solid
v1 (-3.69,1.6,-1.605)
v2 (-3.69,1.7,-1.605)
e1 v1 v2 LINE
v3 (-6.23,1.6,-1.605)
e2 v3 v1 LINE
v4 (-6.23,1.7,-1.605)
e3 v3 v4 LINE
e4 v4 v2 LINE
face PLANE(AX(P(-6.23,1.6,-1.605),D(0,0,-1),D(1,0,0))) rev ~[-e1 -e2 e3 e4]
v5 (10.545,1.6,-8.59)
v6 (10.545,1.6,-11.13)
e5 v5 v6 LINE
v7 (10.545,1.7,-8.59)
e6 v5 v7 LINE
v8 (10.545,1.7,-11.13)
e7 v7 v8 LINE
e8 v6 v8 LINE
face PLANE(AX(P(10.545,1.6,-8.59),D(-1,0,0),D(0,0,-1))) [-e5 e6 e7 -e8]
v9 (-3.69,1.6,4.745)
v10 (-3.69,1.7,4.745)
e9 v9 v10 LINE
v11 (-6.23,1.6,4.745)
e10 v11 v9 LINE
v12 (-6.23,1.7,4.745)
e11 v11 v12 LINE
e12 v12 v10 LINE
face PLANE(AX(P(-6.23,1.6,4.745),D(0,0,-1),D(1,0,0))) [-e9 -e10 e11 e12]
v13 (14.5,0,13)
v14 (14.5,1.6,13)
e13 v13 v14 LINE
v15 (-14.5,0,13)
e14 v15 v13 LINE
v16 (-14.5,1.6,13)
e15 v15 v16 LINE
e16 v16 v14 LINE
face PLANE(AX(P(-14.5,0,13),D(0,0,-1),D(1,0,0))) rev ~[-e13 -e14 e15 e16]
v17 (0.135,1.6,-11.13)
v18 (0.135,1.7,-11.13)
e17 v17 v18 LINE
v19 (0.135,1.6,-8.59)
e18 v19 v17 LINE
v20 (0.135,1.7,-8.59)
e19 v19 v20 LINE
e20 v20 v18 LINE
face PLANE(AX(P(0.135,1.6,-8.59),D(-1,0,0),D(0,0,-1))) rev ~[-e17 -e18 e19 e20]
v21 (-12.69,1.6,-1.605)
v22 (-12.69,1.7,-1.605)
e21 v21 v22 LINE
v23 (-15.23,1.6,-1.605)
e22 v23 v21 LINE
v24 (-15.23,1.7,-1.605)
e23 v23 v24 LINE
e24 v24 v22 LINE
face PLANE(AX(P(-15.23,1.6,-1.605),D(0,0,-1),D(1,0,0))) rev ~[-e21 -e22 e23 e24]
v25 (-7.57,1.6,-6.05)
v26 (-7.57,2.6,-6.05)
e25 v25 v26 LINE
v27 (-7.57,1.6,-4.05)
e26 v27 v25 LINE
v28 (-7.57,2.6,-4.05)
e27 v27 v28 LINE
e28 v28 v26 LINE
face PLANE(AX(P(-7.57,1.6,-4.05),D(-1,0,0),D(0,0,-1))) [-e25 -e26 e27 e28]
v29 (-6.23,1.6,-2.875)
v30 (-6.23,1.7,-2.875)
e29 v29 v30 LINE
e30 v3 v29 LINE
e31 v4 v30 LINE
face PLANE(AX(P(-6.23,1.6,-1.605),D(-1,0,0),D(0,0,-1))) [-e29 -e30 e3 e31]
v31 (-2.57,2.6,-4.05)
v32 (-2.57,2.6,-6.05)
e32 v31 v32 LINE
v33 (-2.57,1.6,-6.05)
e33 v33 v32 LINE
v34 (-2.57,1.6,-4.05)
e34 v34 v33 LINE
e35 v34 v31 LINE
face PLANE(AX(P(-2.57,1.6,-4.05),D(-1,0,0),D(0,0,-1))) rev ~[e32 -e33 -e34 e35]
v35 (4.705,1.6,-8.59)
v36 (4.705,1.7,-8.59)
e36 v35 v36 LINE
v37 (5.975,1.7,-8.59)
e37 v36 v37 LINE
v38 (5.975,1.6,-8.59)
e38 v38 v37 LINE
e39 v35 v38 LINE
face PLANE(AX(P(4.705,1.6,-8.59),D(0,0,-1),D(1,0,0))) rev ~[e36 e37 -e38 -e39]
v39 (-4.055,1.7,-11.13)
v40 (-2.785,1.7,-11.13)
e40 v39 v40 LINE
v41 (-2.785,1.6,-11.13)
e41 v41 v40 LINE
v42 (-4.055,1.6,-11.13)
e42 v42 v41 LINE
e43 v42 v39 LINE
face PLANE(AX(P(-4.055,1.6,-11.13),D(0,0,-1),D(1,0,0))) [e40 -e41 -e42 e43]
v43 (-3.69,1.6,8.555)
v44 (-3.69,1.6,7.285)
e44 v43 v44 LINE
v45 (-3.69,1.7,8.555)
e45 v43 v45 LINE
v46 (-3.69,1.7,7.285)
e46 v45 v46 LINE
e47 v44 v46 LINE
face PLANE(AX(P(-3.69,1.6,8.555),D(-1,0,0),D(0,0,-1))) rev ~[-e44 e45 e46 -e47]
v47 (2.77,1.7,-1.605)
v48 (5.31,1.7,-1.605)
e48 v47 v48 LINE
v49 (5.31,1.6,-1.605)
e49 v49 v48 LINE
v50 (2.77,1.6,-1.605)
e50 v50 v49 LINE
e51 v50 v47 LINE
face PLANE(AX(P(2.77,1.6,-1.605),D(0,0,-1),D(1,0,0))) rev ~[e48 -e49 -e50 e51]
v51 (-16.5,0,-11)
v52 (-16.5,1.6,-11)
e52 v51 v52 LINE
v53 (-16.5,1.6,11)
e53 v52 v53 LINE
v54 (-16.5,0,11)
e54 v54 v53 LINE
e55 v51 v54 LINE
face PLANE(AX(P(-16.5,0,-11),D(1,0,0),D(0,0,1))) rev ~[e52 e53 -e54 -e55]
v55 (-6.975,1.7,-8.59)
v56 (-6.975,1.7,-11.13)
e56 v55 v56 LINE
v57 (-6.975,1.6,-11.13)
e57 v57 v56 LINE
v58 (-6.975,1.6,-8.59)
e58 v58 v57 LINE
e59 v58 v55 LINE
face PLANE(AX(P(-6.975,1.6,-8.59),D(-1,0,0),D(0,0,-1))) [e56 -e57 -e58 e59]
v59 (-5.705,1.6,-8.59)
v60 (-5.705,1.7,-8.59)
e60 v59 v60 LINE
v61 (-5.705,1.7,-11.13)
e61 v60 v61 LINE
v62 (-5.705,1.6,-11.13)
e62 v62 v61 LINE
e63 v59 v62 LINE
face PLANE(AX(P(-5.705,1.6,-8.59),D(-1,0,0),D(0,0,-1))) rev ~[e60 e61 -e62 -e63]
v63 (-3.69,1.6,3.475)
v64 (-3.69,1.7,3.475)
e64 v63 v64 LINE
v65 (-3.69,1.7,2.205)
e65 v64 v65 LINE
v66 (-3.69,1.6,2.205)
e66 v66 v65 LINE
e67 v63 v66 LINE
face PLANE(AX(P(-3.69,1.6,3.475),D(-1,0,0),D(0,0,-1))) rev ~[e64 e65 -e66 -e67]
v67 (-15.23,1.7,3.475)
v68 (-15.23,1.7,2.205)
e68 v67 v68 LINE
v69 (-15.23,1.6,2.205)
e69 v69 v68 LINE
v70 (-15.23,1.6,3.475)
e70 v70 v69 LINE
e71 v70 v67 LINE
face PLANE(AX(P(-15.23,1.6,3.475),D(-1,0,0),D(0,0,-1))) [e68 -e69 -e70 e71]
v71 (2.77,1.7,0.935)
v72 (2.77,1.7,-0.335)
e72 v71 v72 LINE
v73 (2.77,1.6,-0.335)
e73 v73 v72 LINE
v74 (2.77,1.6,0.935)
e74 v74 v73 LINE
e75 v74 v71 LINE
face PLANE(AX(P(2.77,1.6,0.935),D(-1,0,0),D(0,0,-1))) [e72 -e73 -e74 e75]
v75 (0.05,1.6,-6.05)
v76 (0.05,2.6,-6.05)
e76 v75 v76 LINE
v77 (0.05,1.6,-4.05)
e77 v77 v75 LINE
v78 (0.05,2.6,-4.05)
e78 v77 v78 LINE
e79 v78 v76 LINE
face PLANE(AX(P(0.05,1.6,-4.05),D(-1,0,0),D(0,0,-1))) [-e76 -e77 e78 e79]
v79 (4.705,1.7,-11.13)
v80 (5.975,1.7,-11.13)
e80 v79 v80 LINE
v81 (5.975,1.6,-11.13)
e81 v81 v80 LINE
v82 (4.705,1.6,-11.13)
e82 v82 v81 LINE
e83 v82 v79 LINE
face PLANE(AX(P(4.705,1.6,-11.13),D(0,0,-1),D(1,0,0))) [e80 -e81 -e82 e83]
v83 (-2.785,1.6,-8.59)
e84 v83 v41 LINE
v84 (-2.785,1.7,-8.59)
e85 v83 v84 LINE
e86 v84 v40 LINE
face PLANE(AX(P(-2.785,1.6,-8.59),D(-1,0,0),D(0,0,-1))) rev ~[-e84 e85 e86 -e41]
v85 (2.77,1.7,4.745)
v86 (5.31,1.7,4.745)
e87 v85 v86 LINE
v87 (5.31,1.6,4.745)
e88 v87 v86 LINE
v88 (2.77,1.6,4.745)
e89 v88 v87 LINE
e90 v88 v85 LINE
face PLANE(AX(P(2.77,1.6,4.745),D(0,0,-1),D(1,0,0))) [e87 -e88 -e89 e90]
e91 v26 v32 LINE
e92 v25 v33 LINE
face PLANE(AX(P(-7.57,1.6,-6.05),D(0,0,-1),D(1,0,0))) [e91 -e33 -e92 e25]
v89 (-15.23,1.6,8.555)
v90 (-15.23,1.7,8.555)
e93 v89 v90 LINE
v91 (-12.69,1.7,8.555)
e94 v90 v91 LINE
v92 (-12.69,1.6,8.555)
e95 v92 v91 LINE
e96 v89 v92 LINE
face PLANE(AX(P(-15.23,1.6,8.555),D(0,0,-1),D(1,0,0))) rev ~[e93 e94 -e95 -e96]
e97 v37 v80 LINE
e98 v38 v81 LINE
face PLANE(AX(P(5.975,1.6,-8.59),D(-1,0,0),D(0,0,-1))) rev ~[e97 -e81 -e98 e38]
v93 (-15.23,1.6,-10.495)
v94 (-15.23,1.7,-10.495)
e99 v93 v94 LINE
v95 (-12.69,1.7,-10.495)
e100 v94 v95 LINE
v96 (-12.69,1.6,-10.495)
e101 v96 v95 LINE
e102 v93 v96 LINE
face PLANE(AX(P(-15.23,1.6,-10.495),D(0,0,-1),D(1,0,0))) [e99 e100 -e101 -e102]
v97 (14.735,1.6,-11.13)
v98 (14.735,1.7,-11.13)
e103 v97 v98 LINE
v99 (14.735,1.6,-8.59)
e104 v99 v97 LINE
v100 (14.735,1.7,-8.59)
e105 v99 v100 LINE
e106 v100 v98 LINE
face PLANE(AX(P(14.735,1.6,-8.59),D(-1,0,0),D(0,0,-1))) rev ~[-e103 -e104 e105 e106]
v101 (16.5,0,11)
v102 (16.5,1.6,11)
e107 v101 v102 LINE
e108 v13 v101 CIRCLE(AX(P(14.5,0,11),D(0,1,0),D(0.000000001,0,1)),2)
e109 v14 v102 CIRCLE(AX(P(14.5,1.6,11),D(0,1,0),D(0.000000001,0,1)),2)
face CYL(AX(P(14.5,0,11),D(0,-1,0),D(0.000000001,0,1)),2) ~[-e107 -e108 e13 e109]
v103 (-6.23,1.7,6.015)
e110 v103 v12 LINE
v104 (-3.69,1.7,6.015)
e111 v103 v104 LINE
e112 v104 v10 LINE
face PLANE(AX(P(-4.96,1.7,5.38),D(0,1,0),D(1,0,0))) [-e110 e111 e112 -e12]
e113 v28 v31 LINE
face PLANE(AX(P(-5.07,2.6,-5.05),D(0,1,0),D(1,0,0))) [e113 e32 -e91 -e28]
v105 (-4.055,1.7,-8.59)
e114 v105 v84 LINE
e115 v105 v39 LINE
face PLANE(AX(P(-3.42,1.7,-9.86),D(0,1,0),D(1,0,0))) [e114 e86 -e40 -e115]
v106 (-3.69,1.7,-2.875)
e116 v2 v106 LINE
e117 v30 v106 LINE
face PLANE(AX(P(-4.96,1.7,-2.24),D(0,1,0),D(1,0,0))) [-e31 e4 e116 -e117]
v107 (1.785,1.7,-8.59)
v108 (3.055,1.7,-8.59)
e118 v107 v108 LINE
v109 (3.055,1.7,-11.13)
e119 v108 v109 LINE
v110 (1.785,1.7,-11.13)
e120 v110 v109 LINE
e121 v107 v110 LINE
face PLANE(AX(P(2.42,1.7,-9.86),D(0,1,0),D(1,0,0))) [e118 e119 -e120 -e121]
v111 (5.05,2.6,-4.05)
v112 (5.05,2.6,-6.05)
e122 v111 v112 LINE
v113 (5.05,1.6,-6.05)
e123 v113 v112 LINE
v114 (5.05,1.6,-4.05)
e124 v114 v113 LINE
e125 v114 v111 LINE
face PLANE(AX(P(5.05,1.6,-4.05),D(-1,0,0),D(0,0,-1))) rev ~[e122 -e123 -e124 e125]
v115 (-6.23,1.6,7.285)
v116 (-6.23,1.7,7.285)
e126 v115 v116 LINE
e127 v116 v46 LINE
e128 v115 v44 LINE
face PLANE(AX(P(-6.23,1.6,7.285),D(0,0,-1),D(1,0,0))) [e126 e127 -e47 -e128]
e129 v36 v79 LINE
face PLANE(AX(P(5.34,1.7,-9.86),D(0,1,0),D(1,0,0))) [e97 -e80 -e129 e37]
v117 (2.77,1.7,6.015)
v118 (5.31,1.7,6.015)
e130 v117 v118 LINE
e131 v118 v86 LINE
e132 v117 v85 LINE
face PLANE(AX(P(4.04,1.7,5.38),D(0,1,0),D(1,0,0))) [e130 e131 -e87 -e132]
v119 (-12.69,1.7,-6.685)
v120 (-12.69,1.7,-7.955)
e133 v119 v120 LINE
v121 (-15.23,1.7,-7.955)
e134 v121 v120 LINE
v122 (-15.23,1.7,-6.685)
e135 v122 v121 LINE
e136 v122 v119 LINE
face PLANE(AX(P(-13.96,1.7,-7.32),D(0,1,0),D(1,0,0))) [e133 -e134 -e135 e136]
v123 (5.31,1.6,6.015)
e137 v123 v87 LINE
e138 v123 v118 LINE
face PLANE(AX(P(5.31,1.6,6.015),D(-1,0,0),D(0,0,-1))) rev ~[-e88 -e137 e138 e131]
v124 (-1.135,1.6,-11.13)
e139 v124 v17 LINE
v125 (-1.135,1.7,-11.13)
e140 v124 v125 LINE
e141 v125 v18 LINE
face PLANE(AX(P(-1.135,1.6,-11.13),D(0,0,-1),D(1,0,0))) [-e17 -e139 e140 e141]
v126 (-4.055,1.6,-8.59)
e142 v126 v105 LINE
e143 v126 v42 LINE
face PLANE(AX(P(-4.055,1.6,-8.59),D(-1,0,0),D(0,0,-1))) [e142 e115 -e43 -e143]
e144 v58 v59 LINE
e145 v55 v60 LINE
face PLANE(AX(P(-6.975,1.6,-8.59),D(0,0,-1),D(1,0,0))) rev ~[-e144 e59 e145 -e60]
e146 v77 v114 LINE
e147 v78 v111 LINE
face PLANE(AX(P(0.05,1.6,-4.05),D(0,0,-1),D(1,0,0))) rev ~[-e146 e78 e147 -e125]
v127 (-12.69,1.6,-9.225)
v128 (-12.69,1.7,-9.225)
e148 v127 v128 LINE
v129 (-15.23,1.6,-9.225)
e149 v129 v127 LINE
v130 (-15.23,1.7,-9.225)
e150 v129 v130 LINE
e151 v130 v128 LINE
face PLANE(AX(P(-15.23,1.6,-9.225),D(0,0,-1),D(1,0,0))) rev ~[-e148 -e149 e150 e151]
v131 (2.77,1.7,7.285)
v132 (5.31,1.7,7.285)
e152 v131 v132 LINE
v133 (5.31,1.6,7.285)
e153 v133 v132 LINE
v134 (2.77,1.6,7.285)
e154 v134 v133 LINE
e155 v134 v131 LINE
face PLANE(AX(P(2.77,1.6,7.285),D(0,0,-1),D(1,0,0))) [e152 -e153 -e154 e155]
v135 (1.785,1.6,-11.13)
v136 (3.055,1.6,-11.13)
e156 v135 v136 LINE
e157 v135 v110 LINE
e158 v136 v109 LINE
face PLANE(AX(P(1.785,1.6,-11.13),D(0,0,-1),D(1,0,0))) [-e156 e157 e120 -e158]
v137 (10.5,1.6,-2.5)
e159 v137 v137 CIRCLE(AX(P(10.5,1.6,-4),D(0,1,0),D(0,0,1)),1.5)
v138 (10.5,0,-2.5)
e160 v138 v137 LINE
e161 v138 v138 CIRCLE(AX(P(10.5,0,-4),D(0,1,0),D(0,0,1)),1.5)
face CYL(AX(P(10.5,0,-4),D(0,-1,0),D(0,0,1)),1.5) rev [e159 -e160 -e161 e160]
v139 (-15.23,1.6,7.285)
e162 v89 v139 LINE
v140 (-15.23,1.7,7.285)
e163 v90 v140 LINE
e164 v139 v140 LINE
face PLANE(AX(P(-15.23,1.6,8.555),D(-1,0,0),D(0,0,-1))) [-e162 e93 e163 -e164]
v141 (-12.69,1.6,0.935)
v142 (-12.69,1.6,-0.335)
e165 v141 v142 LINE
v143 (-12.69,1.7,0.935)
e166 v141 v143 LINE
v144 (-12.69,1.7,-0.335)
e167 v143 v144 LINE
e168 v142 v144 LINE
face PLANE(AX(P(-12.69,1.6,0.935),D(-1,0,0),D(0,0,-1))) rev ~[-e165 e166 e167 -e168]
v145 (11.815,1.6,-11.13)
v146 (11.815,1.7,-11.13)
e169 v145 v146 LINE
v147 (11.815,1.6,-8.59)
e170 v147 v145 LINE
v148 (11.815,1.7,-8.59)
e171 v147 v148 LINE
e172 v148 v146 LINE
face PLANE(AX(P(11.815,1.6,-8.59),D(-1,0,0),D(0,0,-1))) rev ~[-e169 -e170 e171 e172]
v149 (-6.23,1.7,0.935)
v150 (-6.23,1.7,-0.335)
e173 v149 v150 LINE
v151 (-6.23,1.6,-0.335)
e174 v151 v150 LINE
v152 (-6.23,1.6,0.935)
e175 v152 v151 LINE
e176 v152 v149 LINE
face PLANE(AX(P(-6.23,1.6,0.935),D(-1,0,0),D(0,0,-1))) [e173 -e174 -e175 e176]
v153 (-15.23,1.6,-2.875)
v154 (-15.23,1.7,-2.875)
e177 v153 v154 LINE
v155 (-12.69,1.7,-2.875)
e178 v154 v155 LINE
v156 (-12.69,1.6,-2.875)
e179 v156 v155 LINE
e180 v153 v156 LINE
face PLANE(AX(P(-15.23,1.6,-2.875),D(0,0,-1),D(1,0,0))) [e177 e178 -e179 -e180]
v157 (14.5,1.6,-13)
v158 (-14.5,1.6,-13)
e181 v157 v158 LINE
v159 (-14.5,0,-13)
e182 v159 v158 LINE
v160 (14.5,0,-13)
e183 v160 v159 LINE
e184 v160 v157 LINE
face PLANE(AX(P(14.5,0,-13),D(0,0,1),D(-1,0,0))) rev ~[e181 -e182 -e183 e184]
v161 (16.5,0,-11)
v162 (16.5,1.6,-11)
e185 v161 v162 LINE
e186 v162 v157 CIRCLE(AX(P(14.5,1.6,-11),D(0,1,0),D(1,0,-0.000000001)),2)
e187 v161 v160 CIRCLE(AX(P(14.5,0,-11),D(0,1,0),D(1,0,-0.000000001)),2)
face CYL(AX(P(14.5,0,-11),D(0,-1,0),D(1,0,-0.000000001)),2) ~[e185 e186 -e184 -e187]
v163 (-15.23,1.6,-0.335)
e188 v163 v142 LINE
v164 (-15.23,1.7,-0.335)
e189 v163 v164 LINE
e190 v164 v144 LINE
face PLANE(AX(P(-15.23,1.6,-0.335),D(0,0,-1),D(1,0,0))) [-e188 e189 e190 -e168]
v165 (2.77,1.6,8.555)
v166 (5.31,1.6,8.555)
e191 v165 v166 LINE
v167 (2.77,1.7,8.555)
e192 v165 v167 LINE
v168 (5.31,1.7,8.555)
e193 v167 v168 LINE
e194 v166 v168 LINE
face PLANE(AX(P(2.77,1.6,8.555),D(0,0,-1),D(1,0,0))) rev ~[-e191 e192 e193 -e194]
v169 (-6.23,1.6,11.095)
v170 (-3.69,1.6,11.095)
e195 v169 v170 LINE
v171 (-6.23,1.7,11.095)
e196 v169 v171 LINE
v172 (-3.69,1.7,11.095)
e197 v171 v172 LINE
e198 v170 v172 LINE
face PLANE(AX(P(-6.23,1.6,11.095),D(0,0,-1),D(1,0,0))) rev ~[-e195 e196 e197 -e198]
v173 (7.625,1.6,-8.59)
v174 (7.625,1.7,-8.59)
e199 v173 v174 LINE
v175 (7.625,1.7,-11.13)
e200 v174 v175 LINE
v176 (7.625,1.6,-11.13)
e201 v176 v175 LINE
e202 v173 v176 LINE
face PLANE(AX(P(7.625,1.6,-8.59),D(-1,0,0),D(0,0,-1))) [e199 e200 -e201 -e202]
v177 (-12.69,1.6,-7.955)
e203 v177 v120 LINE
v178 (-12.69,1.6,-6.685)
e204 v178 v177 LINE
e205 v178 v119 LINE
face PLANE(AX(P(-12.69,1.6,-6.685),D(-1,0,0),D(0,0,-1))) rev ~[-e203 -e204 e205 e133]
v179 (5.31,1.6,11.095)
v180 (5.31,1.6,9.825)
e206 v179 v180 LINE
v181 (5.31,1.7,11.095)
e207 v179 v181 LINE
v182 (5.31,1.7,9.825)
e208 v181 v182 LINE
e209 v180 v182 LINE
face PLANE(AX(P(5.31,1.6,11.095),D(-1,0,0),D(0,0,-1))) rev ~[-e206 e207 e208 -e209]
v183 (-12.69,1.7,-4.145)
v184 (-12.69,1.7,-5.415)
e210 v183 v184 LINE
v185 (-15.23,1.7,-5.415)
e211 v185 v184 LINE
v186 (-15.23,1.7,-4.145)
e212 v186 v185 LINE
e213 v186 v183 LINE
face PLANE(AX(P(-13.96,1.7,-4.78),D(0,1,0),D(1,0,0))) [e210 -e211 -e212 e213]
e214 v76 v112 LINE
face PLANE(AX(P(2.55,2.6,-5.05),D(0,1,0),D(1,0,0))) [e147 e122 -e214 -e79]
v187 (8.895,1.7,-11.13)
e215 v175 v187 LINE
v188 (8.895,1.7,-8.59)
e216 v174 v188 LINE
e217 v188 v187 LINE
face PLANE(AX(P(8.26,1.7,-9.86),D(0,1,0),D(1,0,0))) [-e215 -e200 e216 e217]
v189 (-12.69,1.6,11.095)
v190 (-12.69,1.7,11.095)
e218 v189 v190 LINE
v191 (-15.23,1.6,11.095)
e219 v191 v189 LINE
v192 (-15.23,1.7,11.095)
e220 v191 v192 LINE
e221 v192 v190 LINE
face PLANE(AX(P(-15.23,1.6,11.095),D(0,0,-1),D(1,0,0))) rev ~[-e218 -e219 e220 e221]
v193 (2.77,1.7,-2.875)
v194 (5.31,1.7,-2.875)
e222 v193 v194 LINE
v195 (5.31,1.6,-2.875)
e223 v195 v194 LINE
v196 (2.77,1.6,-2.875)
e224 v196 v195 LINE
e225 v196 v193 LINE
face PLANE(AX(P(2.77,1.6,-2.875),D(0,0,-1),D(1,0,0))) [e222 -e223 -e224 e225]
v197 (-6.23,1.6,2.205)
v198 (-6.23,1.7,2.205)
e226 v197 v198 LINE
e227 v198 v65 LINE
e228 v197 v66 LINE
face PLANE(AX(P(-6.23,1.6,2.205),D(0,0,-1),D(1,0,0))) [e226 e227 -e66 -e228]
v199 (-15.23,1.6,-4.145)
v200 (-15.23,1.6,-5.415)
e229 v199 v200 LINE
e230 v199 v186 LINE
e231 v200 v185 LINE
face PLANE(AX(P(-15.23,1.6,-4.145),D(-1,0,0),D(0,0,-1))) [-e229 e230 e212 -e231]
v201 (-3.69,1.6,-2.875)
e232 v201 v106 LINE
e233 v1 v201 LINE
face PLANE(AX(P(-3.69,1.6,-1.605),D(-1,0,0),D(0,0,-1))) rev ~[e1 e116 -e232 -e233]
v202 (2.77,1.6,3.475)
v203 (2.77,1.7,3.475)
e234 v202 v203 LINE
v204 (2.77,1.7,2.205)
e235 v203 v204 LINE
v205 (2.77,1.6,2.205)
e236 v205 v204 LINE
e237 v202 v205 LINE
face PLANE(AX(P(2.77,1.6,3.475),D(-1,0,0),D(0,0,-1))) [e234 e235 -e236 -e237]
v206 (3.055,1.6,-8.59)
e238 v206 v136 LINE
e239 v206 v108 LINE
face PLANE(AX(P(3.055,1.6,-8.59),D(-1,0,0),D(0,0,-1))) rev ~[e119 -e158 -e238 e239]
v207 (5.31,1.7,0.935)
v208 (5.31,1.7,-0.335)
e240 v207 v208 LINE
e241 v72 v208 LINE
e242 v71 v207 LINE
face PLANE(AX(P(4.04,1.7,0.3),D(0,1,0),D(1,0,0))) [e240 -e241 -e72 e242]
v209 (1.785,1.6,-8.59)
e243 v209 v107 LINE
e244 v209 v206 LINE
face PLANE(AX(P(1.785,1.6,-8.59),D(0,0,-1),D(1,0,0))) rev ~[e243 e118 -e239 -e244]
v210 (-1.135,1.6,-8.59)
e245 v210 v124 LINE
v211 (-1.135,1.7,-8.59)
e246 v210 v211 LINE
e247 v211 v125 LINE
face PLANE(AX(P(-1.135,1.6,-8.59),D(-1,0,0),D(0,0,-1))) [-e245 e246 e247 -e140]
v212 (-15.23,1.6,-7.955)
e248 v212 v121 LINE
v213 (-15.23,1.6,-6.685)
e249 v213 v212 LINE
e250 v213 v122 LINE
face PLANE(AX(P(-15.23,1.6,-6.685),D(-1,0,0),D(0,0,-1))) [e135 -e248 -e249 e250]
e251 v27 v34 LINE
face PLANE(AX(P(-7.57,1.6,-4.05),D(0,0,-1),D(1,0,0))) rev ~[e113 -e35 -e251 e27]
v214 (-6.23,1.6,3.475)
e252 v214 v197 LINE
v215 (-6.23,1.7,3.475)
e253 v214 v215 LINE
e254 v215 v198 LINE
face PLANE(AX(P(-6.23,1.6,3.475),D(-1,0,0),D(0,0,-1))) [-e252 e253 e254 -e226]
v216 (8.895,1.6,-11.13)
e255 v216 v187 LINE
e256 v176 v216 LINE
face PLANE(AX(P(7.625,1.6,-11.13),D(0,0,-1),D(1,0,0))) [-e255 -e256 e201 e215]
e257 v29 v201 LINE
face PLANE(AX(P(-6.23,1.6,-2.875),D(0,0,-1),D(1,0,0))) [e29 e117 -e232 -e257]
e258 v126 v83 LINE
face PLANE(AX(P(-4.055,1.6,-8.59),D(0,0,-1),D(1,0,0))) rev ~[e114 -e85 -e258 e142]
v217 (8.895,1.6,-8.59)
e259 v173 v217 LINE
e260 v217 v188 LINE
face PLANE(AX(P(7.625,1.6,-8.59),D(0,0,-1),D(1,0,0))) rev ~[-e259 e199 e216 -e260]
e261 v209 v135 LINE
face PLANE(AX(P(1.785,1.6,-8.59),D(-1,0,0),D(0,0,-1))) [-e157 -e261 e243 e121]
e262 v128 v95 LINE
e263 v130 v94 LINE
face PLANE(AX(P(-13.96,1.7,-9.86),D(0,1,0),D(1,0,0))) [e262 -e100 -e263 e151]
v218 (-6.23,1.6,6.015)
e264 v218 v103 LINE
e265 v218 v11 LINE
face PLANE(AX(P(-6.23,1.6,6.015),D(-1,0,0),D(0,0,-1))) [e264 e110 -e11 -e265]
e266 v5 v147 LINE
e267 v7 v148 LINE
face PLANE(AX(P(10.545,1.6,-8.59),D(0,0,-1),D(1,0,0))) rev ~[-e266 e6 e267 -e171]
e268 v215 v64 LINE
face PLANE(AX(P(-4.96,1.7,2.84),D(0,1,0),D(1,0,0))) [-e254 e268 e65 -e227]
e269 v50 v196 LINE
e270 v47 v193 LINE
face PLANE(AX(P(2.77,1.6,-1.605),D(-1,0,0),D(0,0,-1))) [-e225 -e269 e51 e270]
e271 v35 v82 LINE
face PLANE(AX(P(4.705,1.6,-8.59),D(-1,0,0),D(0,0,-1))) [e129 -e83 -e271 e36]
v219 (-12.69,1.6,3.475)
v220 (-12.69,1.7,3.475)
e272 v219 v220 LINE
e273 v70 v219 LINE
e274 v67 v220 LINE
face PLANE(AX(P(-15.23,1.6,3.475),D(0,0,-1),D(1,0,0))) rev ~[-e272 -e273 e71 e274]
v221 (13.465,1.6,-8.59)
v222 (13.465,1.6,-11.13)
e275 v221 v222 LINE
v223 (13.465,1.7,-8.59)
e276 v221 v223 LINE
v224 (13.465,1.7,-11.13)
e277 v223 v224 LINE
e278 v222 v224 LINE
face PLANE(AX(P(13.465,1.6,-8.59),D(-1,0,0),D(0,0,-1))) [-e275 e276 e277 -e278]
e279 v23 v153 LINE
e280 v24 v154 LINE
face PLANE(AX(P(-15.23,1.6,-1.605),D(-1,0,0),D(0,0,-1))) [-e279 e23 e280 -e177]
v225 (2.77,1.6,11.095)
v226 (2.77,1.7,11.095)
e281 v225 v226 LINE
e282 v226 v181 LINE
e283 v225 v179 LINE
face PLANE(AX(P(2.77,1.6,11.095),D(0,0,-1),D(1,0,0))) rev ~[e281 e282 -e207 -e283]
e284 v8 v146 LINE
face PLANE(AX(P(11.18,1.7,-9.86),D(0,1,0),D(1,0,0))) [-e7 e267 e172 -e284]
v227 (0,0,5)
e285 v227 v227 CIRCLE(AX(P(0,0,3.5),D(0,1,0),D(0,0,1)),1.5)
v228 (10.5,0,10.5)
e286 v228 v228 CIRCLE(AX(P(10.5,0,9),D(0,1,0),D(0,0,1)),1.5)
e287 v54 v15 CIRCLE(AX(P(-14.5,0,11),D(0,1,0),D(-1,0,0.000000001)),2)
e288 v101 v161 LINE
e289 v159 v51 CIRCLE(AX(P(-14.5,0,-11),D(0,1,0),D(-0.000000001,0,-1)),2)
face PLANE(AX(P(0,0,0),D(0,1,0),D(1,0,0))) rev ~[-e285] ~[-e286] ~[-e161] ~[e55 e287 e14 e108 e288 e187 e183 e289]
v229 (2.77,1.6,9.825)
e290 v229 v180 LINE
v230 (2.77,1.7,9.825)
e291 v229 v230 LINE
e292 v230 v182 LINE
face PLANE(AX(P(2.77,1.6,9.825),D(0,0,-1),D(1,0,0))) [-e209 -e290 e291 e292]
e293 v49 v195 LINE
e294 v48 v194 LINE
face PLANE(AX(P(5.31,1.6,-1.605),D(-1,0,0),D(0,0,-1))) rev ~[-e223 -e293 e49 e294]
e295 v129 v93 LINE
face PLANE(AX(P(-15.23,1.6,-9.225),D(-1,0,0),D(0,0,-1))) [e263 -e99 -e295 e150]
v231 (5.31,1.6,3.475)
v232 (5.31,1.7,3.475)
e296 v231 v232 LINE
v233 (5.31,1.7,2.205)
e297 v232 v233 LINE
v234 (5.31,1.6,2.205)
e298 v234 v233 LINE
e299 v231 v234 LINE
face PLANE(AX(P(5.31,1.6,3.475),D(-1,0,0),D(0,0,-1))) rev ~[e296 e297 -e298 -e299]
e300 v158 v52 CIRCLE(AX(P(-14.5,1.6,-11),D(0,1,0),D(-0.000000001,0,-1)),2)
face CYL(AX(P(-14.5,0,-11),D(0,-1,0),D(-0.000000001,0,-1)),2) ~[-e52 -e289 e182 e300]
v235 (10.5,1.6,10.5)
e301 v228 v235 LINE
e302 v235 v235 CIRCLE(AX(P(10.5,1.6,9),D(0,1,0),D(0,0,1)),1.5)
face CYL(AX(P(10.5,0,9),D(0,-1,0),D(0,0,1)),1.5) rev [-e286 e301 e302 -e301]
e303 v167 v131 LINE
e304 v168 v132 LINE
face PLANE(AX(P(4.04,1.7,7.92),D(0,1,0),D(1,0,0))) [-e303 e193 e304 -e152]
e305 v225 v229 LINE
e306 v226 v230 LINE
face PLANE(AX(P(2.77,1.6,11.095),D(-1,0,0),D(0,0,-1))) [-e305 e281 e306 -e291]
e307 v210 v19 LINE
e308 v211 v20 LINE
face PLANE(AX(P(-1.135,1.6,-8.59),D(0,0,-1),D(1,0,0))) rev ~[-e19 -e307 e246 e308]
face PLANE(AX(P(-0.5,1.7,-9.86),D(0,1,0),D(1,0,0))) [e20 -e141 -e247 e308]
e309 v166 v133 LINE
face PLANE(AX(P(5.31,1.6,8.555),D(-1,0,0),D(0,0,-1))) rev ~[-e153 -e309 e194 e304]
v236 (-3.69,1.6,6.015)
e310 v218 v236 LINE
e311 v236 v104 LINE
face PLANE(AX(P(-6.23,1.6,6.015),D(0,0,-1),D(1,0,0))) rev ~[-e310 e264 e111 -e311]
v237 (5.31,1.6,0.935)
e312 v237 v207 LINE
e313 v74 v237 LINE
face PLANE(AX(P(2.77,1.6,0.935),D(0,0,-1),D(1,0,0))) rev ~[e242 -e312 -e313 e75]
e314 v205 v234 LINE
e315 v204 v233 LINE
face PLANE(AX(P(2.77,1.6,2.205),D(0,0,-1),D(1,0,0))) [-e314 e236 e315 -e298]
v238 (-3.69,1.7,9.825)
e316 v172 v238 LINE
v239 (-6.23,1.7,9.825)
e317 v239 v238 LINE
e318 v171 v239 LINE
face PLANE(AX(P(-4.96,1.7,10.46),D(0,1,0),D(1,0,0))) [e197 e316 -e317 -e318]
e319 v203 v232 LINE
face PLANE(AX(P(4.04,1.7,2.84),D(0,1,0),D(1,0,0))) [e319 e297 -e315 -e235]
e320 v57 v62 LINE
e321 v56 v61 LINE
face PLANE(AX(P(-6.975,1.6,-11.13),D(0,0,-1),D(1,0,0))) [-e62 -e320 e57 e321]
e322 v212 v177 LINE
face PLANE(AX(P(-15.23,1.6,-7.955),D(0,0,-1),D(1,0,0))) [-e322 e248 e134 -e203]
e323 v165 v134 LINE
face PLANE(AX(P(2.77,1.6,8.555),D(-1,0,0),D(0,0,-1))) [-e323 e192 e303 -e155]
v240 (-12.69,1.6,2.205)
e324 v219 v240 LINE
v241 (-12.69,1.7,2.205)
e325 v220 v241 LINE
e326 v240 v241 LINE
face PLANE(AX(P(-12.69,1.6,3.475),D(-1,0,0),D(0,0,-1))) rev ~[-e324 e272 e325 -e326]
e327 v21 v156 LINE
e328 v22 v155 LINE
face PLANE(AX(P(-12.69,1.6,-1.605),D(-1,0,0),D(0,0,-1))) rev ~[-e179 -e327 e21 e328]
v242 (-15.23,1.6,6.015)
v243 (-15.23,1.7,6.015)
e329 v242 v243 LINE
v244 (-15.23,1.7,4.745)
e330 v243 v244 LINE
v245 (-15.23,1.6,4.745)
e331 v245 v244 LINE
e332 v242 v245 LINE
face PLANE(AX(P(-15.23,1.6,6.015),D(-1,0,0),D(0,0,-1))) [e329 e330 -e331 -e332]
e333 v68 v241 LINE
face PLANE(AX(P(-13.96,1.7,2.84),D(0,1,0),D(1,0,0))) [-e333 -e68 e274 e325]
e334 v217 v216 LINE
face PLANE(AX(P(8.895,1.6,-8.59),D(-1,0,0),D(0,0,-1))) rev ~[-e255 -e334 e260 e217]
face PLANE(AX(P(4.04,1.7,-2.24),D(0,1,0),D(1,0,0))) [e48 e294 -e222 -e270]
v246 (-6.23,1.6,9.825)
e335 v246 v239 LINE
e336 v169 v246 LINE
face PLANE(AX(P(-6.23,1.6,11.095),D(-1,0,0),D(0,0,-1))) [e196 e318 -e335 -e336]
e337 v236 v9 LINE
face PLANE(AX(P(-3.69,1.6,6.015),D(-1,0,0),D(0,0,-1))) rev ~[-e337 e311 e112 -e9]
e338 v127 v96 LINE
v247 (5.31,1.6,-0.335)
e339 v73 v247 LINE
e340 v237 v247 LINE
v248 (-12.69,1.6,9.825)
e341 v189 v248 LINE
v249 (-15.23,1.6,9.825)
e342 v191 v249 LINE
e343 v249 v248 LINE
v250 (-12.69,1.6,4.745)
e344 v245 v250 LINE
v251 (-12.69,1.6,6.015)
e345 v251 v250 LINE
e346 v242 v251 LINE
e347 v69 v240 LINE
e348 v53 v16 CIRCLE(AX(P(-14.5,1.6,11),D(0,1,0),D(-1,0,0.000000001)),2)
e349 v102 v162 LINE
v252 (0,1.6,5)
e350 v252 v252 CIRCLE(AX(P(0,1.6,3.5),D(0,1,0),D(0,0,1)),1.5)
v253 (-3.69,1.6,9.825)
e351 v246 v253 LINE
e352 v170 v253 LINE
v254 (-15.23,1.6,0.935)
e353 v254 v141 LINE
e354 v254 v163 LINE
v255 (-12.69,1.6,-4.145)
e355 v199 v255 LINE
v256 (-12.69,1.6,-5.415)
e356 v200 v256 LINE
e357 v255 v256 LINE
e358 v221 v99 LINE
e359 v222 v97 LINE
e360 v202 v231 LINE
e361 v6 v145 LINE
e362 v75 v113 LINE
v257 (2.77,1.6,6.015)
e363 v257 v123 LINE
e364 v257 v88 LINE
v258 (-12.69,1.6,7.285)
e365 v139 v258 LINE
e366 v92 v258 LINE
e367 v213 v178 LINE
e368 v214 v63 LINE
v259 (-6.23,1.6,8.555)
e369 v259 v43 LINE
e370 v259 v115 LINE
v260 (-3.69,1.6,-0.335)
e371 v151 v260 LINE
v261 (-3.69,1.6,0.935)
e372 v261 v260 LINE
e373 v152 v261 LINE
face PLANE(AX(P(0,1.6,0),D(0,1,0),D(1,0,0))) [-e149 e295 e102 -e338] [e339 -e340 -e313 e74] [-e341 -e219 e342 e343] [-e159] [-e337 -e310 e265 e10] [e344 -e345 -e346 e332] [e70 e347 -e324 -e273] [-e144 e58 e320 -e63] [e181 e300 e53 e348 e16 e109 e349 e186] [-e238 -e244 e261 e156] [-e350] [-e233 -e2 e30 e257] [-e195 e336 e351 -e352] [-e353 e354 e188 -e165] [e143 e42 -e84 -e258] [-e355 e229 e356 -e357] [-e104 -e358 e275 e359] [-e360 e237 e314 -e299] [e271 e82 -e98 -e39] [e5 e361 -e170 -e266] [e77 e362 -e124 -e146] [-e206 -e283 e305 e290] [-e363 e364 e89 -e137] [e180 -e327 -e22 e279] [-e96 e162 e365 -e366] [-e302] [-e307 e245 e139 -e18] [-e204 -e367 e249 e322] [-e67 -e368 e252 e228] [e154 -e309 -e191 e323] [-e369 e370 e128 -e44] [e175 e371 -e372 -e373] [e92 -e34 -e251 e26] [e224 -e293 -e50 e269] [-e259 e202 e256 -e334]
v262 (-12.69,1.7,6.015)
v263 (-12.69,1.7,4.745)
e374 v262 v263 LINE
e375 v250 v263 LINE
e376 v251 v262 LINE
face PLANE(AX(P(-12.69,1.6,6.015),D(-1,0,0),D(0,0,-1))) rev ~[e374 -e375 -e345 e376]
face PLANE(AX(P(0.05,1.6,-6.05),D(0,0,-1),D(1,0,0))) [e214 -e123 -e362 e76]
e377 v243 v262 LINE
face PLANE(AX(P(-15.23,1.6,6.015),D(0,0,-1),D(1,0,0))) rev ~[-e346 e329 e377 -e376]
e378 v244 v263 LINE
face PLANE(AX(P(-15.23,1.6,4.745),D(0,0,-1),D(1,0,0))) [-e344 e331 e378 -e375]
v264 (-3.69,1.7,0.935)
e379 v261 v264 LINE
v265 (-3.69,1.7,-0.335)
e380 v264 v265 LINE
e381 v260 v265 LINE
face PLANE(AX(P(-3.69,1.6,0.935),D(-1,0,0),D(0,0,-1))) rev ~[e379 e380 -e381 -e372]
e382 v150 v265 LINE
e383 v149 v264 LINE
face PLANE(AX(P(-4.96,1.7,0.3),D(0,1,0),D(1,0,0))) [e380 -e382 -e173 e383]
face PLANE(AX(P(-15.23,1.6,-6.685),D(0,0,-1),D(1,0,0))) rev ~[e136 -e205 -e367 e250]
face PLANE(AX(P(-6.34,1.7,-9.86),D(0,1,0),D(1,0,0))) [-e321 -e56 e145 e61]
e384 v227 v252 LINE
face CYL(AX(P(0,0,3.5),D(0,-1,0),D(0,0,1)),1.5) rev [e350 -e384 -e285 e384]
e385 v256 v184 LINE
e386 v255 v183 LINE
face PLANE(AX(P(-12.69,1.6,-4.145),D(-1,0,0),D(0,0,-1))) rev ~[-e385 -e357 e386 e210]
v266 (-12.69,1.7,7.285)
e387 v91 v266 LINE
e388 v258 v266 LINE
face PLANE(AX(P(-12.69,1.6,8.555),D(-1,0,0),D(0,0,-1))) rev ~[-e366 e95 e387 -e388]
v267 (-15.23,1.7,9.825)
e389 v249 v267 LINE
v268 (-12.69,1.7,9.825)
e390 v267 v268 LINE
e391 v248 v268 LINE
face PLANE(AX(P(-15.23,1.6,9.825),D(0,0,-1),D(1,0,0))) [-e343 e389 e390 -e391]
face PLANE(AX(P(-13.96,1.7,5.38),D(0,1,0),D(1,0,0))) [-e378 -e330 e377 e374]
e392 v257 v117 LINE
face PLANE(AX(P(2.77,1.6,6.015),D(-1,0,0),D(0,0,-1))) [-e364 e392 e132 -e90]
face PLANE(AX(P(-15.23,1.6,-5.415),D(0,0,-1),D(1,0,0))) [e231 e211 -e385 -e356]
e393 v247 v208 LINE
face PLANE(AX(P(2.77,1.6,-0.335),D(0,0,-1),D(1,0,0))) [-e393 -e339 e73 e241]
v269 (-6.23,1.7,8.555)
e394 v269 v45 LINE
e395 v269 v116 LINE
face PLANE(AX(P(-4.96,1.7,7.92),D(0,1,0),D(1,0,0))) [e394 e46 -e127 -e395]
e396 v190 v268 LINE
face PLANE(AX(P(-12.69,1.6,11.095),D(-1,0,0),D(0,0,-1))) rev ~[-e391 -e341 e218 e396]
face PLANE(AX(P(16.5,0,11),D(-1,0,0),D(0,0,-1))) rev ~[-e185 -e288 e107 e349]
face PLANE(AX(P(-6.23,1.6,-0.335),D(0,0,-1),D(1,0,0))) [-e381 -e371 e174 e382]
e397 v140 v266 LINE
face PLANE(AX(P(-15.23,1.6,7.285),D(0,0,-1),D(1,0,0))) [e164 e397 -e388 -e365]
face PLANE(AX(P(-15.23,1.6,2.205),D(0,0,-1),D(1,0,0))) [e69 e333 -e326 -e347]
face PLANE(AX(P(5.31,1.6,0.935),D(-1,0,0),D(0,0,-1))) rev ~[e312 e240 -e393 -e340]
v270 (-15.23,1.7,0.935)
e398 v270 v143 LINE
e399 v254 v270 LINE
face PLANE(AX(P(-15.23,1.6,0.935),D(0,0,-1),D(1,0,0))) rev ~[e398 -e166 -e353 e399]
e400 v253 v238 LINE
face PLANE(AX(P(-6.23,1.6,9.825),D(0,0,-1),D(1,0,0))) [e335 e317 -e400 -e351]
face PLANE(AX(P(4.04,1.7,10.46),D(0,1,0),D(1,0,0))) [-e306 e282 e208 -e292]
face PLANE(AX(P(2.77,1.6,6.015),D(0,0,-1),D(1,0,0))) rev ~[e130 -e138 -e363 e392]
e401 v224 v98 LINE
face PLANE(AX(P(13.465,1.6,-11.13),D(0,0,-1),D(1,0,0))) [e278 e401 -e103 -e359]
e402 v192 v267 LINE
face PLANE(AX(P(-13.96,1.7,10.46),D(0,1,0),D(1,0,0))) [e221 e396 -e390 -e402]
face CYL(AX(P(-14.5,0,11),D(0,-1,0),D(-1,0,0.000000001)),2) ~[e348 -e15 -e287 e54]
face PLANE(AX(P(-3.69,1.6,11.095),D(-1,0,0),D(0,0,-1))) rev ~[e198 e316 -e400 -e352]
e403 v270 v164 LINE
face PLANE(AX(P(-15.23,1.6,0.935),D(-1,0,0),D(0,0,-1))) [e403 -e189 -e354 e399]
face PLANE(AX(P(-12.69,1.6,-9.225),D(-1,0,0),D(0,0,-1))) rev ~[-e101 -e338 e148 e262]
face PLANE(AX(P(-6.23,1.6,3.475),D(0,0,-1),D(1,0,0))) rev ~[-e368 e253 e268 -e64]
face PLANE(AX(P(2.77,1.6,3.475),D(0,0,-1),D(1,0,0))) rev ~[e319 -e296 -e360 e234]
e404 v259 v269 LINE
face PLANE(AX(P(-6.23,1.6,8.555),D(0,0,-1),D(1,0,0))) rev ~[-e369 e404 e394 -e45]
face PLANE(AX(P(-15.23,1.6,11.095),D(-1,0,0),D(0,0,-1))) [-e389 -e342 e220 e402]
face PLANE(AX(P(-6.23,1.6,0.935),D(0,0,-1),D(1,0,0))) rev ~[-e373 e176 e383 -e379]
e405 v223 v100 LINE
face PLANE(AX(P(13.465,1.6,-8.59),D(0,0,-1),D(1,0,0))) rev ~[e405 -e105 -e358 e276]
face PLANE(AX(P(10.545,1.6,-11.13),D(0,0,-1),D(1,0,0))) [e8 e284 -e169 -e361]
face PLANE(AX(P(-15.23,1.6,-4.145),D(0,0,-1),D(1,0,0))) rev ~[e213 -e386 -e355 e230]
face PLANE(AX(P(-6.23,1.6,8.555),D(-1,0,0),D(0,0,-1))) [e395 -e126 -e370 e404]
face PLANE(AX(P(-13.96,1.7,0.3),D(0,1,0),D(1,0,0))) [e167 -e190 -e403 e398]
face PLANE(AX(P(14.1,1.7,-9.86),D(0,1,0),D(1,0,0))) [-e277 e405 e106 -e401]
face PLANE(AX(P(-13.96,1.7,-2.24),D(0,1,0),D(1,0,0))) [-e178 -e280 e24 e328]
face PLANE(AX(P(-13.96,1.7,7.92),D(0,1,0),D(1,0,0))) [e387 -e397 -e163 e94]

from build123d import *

# Parameters (mm, degrees)
SKETCH1_R           = 1.5
BOSS_EXTRUDE1_DEPTH = 1.6
SKETCH2_W           = 2.54
SKETCH2_H           = 1.27
SKETCH2_W_2         = 1.27
SKETCH2_H_2         = 2.54
BOSS_EXTRUDE2_DEPTH = 0.1
SKETCH3_W           = 5
SKETCH3_H           = 2
BOSS_EXTRUDE3_DEPTH = 1


with BuildPart() as part:
    # Sketch1 → Boss-Extrude1 (new body)
    with BuildSketch(Plane(origin=(0, 0, 0), x_dir=(1, 0, 0), z_dir=(0, 1, 0))):
        with BuildLine():
            Line((14.5, 13), (-14.5, 13))
            ThreePointArc((-14.5, 13), (-15.914213562, 12.414213562), (-16.5, 11))
            Line((-16.5, 11), (-16.5, -11))
            ThreePointArc((-16.5, -11), (-15.914213562, -12.414213562), (-14.5, -13))
            Line((-14.5, -13), (14.5, -13))
            ThreePointArc((14.5, -13), (15.914213562, -12.414213562), (16.5, -11))
            Line((16.5, -11), (16.5, 11))
            ThreePointArc((16.5, 11), (15.914213562, 12.414213562), (14.5, 13))
        make_face()
        with Locations(Location((0, -3.5, 0), (0, 0, 270))):
            Circle(SKETCH1_R, mode=Mode.SUBTRACT)
        with Locations(Location((10.5, 4, 0), (0, 0, 270))):
            Circle(SKETCH1_R, mode=Mode.SUBTRACT)
        with Locations(Location((10.5, -9, 0), (0, 0, 270))):
            Circle(SKETCH1_R, mode=Mode.SUBTRACT)
    extrude(amount=BOSS_EXTRUDE1_DEPTH)

    # Sketch2 → Boss-Extrude2 (add)
    with BuildSketch(Plane(origin=(0, 1.6, 0), x_dir=(1, 0, 0), z_dir=(0, 1, 0))):
        with Locations((-13.96, 9.86)):
            Rectangle(SKETCH2_W, SKETCH2_H)
        with Locations((-6.34, 9.86)):
            Rectangle(SKETCH2_W_2, SKETCH2_H_2)
        with Locations((-13.96, 7.32)):
            Rectangle(SKETCH2_W, SKETCH2_H)
        with Locations((-13.96, 4.78)):
            Rectangle(SKETCH2_W, SKETCH2_H)
        with Locations((-13.96, 2.24)):
            Rectangle(SKETCH2_W, SKETCH2_H)
        with Locations((-13.96, -0.3)):
            Rectangle(SKETCH2_W, SKETCH2_H)
        with Locations((-13.96, -2.84)):
            Rectangle(SKETCH2_W, SKETCH2_H)
        with Locations((-13.96, -5.38)):
            Rectangle(SKETCH2_W, SKETCH2_H)
        with Locations((-13.96, -7.92)):
            Rectangle(SKETCH2_W, SKETCH2_H)
        with Locations((-13.96, -10.46)):
            Rectangle(SKETCH2_W, SKETCH2_H)
        with Locations((-4.96, 2.24)):
            Rectangle(SKETCH2_W, SKETCH2_H)
        with Locations((-4.96, -0.3)):
            Rectangle(SKETCH2_W, SKETCH2_H)
        with Locations((-4.96, -2.84)):
            Rectangle(SKETCH2_W, SKETCH2_H)
        with Locations((-4.96, -5.38)):
            Rectangle(SKETCH2_W, SKETCH2_H)
        with Locations((-4.96, -7.92)):
            Rectangle(SKETCH2_W, SKETCH2_H)
        with Locations((-4.96, -10.46)):
            Rectangle(SKETCH2_W, SKETCH2_H)
        with Locations((4.04, 2.24)):
            Rectangle(SKETCH2_W, SKETCH2_H)
        with Locations((4.04, -0.3)):
            Rectangle(SKETCH2_W, SKETCH2_H)
        with Locations((4.04, -2.84)):
            Rectangle(SKETCH2_W, SKETCH2_H)
        with Locations((4.04, -5.38)):
            Rectangle(SKETCH2_W, SKETCH2_H)
        with Locations((4.04, -7.92)):
            Rectangle(SKETCH2_W, SKETCH2_H)
        with Locations((4.04, -10.46)):
            Rectangle(SKETCH2_W, SKETCH2_H)
        with Locations((-3.42, 9.86)):
            Rectangle(SKETCH2_W_2, SKETCH2_H_2)
        with Locations((-0.5, 9.86)):
            Rectangle(SKETCH2_W_2, SKETCH2_H_2)
        with Locations((2.42, 9.86)):
            Rectangle(SKETCH2_W_2, SKETCH2_H_2)
        with Locations((5.34, 9.86)):
            Rectangle(SKETCH2_W_2, SKETCH2_H_2)
        with Locations((8.26, 9.86)):
            Rectangle(SKETCH2_W_2, SKETCH2_H_2)
        with Locations((11.18, 9.86)):
            Rectangle(SKETCH2_W_2, SKETCH2_H_2)
        with Locations((14.1, 9.86)):
            Rectangle(SKETCH2_W_2, SKETCH2_H_2)
    extrude(amount=BOSS_EXTRUDE2_DEPTH)

    # Sketch3 → Boss-Extrude3 (add)
    with BuildSketch(Plane(origin=(0, 1.6, 0), x_dir=(1, 0, 0), z_dir=(0, 1, 0))):
        with Locations((-5.07, 5.05)):
            Rectangle(SKETCH3_W, SKETCH3_H)
        with Locations((2.55, 5.05)):
            Rectangle(SKETCH3_W, SKETCH3_H)
    extrude(amount=BOSS_EXTRUDE3_DEPTH)


solid = part.part
